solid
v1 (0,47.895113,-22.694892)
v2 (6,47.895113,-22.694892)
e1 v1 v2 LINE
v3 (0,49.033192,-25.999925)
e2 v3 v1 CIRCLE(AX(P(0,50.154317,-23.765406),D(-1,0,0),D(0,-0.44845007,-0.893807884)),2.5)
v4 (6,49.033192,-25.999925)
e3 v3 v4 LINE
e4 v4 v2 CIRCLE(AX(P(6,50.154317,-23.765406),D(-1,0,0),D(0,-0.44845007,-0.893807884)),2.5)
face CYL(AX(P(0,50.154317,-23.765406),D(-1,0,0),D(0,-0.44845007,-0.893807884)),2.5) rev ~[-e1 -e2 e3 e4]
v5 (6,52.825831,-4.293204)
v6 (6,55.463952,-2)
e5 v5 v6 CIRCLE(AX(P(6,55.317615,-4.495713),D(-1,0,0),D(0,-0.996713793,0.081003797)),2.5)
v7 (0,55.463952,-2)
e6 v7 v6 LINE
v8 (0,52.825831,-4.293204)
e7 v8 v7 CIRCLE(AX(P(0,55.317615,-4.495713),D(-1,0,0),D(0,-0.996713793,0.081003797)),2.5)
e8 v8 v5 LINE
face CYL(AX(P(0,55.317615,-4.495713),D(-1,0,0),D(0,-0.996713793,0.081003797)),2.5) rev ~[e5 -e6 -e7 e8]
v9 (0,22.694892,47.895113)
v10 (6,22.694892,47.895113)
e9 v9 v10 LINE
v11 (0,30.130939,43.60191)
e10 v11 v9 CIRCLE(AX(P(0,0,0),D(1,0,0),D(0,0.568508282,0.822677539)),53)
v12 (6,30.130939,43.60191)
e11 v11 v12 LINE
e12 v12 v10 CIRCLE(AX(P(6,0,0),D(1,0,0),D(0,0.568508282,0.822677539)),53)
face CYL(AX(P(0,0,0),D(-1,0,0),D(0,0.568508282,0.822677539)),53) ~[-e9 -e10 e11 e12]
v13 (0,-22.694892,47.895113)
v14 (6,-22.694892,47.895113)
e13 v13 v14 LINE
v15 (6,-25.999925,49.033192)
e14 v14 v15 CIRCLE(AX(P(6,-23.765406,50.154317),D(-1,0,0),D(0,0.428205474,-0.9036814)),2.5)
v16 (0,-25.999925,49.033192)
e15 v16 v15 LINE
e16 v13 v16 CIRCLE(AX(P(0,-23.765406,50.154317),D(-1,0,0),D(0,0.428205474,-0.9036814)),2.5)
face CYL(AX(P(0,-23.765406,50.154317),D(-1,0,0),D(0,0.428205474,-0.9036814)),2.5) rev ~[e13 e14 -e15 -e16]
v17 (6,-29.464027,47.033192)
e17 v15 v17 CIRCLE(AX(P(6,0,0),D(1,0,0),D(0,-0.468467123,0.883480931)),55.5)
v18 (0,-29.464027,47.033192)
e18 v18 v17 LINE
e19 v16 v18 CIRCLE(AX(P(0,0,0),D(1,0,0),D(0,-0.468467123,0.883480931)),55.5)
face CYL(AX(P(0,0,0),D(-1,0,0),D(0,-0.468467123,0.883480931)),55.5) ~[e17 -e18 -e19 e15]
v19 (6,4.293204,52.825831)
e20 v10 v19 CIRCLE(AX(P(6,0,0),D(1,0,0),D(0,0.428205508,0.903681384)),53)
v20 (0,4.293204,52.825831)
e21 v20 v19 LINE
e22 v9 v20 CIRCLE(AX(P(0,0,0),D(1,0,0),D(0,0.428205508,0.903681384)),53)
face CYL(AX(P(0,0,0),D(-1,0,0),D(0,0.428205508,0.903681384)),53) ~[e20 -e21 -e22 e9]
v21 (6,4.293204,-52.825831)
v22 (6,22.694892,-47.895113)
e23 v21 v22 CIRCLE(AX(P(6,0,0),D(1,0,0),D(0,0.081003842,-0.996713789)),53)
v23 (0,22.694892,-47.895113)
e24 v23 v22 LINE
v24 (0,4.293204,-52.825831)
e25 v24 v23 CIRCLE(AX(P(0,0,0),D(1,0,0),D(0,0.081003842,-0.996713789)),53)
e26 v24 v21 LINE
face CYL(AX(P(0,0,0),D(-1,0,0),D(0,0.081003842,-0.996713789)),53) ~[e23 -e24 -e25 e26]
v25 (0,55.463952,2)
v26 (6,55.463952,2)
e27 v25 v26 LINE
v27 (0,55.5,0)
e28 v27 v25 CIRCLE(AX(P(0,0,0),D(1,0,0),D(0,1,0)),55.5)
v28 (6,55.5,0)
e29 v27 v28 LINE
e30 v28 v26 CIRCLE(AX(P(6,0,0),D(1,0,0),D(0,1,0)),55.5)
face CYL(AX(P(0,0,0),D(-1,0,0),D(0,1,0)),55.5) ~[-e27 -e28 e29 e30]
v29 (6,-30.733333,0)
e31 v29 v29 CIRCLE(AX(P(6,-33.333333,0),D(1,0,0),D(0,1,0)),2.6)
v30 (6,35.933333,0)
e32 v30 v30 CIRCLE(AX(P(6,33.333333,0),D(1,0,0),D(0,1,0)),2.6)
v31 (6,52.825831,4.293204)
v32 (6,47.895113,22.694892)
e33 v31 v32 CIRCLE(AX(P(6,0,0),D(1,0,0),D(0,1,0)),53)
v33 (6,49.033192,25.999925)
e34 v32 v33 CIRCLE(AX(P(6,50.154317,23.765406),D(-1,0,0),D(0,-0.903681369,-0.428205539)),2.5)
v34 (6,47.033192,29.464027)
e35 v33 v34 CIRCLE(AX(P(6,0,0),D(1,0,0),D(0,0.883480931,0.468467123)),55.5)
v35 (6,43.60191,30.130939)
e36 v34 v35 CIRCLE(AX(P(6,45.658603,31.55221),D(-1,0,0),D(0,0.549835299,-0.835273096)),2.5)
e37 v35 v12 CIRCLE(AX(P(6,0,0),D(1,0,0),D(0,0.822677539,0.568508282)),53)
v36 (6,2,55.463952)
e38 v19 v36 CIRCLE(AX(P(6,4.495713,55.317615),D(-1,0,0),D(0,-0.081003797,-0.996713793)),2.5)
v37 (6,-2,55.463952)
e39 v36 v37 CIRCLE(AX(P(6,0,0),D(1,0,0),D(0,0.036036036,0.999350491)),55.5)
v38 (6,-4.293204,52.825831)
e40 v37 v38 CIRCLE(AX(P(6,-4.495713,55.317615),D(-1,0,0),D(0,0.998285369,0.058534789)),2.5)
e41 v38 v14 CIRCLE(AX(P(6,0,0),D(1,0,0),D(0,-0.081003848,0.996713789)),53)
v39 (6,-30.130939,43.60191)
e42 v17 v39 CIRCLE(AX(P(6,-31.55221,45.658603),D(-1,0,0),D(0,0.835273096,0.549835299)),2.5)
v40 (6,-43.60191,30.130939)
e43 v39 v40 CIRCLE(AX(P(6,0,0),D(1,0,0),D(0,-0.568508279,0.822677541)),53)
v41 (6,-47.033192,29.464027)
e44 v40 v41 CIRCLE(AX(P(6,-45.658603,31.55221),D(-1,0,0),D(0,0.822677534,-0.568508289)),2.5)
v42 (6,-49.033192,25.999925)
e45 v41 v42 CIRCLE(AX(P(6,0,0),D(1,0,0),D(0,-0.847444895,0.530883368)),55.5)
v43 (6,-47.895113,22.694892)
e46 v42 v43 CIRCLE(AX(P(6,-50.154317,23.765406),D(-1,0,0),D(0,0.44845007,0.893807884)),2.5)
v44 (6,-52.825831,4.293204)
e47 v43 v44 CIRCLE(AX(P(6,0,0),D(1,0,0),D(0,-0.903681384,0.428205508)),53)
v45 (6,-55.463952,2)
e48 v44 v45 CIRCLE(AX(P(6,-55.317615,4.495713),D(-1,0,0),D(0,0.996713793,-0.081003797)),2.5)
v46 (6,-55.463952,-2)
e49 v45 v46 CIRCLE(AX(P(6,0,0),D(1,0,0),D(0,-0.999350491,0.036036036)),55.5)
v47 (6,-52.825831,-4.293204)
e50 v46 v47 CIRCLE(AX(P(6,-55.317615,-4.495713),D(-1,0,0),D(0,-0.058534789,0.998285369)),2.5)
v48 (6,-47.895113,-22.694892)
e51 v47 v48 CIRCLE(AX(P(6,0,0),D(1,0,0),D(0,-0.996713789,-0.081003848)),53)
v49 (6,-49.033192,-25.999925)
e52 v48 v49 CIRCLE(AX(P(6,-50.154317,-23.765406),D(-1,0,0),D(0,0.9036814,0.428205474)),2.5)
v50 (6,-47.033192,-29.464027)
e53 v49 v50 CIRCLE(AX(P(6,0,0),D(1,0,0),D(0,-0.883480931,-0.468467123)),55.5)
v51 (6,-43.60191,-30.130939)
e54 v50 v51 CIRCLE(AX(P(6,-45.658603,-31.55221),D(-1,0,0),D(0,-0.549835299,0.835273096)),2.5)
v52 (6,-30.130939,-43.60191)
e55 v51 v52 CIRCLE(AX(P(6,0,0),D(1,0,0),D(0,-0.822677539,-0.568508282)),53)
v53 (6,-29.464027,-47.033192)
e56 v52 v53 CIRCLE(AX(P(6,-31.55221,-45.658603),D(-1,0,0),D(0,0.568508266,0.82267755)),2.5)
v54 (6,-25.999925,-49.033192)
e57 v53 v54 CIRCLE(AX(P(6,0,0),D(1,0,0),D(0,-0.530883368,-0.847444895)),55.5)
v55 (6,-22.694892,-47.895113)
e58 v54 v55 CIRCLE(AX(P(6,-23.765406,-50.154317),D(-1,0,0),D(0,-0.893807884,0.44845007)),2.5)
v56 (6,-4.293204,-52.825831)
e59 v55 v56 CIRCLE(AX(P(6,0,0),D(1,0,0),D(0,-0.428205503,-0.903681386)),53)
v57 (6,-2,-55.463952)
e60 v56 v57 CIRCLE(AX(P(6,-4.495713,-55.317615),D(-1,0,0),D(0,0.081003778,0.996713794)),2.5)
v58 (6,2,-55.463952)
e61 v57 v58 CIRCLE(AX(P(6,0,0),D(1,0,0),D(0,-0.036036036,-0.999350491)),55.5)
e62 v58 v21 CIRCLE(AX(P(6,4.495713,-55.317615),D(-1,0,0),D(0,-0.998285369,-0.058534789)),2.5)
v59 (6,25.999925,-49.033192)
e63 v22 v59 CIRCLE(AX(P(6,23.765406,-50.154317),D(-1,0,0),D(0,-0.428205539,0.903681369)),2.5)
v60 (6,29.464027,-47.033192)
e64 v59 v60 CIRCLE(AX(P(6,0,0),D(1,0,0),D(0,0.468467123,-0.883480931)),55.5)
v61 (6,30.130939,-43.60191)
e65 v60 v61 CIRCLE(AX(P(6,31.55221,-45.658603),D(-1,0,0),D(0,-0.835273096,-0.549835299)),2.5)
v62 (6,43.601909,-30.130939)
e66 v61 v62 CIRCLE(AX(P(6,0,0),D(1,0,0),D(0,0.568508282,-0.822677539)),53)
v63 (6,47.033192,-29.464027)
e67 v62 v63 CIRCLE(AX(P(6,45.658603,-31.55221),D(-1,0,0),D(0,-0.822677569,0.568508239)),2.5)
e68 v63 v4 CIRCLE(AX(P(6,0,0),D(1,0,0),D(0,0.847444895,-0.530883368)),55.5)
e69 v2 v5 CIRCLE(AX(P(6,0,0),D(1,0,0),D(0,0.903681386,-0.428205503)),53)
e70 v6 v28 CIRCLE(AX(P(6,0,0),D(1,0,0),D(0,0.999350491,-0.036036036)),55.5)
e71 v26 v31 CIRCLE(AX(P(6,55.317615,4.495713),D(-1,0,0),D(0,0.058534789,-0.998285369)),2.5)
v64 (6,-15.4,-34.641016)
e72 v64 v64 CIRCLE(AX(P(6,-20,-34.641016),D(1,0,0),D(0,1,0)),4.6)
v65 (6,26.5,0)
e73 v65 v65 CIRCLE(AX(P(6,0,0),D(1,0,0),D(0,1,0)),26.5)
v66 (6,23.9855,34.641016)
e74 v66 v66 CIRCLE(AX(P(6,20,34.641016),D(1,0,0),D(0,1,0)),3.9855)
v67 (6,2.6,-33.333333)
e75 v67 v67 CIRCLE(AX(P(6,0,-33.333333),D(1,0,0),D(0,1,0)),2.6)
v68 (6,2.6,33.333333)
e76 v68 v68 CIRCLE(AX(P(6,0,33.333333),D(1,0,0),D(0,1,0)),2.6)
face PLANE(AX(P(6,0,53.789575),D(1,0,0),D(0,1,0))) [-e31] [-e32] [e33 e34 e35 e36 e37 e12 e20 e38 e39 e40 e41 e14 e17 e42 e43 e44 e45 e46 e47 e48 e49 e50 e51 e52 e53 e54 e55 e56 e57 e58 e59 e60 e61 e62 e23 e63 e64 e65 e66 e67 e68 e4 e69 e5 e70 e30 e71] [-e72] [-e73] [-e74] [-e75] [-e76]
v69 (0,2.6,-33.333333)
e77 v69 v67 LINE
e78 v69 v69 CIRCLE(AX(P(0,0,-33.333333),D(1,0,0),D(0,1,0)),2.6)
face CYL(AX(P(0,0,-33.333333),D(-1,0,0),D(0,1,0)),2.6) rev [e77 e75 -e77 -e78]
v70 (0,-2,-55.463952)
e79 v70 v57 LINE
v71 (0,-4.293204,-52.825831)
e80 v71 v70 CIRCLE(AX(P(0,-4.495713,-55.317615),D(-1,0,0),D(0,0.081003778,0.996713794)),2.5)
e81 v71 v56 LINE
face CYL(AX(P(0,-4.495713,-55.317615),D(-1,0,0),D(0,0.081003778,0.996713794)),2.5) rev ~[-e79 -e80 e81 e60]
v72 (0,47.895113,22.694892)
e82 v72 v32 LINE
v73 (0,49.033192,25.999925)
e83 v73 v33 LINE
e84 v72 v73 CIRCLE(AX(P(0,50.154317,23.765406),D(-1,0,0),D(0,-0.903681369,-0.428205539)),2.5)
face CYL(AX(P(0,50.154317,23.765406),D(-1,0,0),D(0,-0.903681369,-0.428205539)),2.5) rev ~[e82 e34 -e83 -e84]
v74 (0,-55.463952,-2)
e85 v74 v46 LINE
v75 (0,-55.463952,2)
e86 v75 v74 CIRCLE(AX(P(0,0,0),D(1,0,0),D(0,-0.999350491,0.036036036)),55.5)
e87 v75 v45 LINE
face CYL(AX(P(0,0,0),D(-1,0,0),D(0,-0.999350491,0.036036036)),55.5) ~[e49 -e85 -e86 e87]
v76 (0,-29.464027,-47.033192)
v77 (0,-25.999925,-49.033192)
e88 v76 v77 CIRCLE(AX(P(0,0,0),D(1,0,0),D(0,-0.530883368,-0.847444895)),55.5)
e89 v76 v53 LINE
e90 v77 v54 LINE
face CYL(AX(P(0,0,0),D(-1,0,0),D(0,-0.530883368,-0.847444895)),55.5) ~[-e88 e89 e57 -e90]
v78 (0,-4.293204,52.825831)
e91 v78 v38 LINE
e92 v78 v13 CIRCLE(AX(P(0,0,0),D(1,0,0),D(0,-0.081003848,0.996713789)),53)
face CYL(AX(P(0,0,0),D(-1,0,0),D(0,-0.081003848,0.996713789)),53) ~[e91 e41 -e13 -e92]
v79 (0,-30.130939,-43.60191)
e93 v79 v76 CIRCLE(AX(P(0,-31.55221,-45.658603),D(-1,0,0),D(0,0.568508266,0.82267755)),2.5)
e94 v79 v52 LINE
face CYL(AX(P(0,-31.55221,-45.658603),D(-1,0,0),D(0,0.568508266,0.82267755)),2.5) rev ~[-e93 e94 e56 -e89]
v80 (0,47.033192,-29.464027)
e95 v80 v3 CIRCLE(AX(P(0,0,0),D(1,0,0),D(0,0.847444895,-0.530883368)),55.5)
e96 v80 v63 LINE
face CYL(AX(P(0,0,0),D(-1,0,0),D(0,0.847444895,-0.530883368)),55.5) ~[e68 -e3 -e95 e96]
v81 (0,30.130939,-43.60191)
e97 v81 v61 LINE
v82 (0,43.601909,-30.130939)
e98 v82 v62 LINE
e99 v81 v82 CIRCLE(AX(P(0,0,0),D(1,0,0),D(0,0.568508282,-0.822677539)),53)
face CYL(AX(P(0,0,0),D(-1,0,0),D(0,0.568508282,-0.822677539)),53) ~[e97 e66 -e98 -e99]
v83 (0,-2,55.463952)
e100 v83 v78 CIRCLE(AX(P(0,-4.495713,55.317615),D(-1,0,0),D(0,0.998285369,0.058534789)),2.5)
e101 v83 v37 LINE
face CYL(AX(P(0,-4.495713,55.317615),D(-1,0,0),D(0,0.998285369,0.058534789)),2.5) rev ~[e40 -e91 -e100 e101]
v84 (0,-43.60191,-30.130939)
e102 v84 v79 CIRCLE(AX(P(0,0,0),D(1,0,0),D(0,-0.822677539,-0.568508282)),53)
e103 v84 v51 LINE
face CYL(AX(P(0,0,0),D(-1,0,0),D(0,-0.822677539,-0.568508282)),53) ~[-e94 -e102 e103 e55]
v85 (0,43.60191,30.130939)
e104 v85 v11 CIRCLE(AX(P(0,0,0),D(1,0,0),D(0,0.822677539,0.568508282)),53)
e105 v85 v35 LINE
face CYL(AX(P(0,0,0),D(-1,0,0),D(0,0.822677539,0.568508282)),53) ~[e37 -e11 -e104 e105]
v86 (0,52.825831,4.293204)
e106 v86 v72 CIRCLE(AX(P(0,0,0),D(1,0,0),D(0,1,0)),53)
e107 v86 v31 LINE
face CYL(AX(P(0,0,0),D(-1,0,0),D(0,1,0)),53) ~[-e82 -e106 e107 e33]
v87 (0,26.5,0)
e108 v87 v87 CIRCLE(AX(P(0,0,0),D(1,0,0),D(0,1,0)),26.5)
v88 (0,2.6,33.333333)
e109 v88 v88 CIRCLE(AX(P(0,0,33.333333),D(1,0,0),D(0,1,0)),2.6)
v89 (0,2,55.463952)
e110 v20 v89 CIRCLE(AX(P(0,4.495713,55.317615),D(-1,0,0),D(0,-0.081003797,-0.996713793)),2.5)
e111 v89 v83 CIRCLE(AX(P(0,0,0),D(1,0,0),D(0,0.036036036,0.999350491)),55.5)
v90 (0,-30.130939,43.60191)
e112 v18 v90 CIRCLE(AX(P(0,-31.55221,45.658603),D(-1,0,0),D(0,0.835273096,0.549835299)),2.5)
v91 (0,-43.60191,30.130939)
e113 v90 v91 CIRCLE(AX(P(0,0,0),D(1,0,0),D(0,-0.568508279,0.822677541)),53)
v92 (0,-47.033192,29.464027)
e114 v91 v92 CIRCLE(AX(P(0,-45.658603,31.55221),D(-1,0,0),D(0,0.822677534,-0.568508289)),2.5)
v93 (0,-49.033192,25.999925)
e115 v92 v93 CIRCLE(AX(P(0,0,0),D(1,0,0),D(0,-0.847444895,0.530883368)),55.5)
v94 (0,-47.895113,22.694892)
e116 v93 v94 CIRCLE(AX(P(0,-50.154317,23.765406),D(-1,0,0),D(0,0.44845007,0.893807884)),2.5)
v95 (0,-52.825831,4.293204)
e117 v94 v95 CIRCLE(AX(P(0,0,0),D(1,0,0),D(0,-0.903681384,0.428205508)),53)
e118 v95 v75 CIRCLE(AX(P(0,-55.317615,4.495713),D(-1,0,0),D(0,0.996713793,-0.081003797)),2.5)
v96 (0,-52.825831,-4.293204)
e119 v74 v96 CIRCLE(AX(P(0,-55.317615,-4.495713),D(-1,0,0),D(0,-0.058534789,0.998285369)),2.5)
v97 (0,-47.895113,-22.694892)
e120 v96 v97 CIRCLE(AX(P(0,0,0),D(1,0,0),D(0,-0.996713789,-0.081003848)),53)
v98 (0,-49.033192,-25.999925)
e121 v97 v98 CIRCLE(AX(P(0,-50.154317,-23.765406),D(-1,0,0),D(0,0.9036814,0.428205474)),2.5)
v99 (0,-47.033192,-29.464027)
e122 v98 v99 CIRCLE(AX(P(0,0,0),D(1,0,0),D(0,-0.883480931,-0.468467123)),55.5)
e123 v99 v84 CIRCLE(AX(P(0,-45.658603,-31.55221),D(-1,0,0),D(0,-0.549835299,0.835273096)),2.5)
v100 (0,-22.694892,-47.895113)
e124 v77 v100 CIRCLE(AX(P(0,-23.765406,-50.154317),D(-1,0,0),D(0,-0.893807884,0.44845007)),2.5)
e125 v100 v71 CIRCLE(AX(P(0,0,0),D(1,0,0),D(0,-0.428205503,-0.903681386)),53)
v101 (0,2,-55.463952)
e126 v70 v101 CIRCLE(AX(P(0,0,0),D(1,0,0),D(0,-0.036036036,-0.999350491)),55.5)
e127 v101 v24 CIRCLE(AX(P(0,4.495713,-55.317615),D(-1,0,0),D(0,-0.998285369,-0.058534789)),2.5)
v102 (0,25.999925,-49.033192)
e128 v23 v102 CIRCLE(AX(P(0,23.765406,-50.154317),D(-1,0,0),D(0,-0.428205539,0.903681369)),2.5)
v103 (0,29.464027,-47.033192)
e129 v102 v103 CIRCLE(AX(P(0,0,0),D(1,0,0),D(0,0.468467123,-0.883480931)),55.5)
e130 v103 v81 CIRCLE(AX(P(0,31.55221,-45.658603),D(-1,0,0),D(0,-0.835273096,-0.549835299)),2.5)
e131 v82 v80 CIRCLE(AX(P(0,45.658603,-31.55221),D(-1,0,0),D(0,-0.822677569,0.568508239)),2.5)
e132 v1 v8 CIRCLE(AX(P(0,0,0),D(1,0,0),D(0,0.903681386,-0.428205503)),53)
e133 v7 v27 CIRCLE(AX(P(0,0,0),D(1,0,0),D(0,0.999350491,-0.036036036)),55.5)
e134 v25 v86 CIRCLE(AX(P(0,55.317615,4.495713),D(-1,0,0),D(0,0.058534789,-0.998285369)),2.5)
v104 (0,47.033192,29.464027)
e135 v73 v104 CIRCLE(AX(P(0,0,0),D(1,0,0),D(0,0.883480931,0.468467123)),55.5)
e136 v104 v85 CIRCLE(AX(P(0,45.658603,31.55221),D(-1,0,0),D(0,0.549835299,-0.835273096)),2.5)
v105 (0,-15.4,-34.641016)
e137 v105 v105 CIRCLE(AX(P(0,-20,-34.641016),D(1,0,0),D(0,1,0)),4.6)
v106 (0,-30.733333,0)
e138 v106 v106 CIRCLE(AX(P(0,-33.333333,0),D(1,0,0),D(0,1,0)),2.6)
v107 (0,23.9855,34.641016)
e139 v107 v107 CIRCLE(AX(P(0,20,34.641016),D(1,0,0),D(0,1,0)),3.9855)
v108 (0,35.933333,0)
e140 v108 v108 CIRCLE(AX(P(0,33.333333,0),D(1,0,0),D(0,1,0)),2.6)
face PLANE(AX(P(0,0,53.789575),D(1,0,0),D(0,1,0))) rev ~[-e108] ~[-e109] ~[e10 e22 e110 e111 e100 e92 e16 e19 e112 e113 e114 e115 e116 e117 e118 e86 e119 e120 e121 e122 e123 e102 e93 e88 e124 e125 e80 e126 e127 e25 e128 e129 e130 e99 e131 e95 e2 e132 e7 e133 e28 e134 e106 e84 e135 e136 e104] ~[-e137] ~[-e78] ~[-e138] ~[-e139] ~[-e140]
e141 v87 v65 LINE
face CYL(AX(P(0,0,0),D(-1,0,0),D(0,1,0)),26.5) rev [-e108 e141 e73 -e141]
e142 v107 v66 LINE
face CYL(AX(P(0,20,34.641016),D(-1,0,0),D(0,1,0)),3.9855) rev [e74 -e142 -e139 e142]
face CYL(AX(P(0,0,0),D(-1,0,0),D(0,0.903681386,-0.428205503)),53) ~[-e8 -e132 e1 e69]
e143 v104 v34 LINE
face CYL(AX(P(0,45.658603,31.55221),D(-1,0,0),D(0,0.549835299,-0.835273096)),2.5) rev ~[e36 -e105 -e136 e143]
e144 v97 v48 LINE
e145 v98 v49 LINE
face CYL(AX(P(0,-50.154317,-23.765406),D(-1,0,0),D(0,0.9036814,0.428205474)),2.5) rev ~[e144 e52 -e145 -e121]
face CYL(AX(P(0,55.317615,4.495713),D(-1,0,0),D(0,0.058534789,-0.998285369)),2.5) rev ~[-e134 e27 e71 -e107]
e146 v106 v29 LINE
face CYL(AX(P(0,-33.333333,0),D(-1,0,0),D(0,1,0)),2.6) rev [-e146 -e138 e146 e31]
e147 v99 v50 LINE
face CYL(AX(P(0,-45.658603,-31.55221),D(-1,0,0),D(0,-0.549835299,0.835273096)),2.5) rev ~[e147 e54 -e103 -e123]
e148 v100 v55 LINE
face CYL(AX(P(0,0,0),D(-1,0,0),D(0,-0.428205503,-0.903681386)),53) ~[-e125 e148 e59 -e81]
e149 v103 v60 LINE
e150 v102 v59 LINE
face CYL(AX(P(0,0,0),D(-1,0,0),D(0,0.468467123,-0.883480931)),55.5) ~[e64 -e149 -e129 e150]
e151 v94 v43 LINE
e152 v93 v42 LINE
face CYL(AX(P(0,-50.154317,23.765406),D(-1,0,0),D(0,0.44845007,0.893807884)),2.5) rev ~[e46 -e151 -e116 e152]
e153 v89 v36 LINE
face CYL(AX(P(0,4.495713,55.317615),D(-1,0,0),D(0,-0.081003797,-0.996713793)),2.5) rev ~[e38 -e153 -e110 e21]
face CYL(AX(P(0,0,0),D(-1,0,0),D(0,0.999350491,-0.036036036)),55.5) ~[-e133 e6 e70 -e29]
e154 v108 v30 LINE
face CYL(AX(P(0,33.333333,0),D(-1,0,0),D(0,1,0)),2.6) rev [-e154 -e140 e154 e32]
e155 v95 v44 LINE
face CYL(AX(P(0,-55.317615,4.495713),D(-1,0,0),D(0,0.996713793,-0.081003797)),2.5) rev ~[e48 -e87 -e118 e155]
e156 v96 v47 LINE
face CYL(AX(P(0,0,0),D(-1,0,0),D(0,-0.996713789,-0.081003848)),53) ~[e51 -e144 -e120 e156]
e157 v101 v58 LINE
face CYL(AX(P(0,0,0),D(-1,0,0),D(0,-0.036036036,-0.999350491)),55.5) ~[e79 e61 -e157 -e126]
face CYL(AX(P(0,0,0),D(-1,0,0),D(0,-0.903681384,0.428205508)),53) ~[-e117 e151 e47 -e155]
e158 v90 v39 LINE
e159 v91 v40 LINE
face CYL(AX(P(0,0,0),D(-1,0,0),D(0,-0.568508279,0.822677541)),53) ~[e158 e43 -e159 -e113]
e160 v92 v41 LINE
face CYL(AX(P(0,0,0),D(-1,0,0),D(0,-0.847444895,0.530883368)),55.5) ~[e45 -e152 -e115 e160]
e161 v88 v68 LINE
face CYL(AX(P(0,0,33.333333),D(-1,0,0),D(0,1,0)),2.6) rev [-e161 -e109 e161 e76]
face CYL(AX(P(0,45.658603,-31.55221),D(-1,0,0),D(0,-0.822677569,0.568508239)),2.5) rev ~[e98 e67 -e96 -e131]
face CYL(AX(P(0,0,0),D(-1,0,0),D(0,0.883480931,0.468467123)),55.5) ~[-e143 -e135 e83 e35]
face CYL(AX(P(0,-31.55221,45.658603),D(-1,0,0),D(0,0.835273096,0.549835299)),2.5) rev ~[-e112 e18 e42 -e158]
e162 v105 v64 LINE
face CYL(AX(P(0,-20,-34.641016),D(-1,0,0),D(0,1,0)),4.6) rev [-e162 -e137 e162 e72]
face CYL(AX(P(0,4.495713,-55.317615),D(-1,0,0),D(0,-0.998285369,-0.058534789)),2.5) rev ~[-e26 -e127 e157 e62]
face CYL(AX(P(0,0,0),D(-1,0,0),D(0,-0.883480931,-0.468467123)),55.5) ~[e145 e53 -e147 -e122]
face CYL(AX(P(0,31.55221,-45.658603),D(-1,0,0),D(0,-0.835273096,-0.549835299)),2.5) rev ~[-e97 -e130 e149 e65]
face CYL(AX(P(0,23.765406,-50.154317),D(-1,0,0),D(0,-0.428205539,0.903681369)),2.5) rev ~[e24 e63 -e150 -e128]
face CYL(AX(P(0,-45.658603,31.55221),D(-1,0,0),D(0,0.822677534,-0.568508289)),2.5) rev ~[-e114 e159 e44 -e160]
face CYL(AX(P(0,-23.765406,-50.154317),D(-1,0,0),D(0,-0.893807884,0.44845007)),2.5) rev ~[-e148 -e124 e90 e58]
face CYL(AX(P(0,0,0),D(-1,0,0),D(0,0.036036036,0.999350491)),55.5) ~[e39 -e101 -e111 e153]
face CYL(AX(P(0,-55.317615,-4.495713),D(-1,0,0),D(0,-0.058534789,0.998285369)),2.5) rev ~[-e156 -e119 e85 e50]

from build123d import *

# Parameters (mm, degrees)
F0_R     = 4.6
F0_R_2   = 2.6
F0_R_3   = 26.5
F0_R_4   = 3.9855
F1_DEPTH = 6


with BuildPart() as f1:
    # F0 (on Right) → F1 (new body)
    with BuildSketch(Plane.YZ):
        with BuildLine():
            ThreePointArc((-4.2932039319, 52.8258308027), (0, 53), (4.2932039319, 52.8258308027))
            ThreePointArc((4.2932039319, 52.8258308027), (2.6089111213, 53.6775003275), (2, 55.4639522573))
            ThreePointArc((2, 55.4639522573), (0, 55.5), (-2, 55.4639522573))
            ThreePointArc((-2, 55.4639522573), (-2.6089111213, 53.6775003275), (-4.2932039319, 52.8258308027))
        make_face()
        with BuildLine():
            ThreePointArc((-47.8951133262, 22.6948919246), (-45.8993463831, 26.5000000302), (-43.6019095663, 30.1309389528))
            ThreePointArc((-43.6019095663, 30.1309389528), (-45.1816234045, 29.0981334574), (-47.0331916491, 29.4640269362))
            ThreePointArc((-47.0331916491, 29.4640269362), (-48.06440991, 27.75), (-49.0331916491, 25.9999253211))
            ThreePointArc((-49.0331916491, 25.9999253211), (-47.7905344905, 24.5793669568), (-47.8951133262, 22.6948919246))
        make_face()
        with BuildLine():
            ThreePointArc((52.8258308027, -4.2932039319), (52.9564397998, -2.1483676891), (53, 0))
            ThreePointArc((53, 0), (52.9564397998, 2.1483676891), (52.8258308027, 4.2932039319))
            ThreePointArc((52.8258308027, 4.2932039319), (51.1940687891, 13.717409406), (47.8951134033, 22.6948917618))
            ThreePointArc((47.8951134033, 22.6948917618), (45.8993464347, 26.4999999409), (43.6019095811, 30.1309389313))
            ThreePointArc((43.6019095811, 30.1309389313), (37.4766594029, 37.4766594029), (30.1309389313, 43.6019095811))
            ThreePointArc((30.1309389313, 43.6019095811), (26.5000000189, 45.8993463896), (22.6948919246, 47.8951133262))
            ThreePointArc((22.6948919246, 47.8951133262), (13.717409493, 51.1940687658), (4.2932039319, 52.8258308027))
            ThreePointArc((4.2932039319, 52.8258308027), (0, 53), (-4.2932039319, 52.8258308027))
            ThreePointArc((-4.2932039319, 52.8258308027), (-13.717409493, 51.1940687658), (-22.6948919246, 47.8951133262))
            ThreePointArc((-22.6948919246, 47.8951133262), (-26.4999999415, 45.8993464343), (-30.1309387843, 43.6019096827))
            ThreePointArc((-30.1309387843, 43.6019096827), (-37.4766593305, 37.4766594753), (-43.6019095663, 30.1309389528))
            ThreePointArc((-43.6019095663, 30.1309389528), (-45.8993463831, 26.5000000302), (-47.8951133262, 22.6948919246))
            ThreePointArc((-47.8951133262, 22.6948919246), (-51.1940687658, 13.717409493), (-52.8258308027, 4.2932039319))
            ThreePointArc((-52.8258308027, 4.2932039319), (-53, 0), (-52.8258308027, -4.2932039319))
            ThreePointArc((-52.8258308027, -4.2932039319), (-51.1940687658, -13.717409493), (-47.8951133262, -22.6948919246))
            ThreePointArc((-47.8951133262, -22.6948919246), (-45.8993463896, -26.5000000189), (-43.6019095811, -30.1309389313))
            ThreePointArc((-43.6019095811, -30.1309389313), (-37.4766594372, -37.4766593686), (-30.1309390111, -43.6019095259))
            ThreePointArc((-30.1309390111, -43.6019095259), (-26.4999999348, -45.8993464382), (-22.6948916613, -47.895113451))
            ThreePointArc((-22.6948916613, -47.895113451), (-13.7174093743, -51.1940687976), (-4.2932039775, -52.825830799))
            ThreePointArc((-4.2932039775, -52.825830799), (-1.709e-07, -53), (4.2932036369, -52.8258308267))
            ThreePointArc((4.2932036369, -52.8258308267), (13.717409263, -51.1940688275), (22.6948917618, -47.8951134033))
            ThreePointArc((22.6948917618, -47.8951134033), (26.4999999409, -45.8993464347), (30.1309389313, -43.6019095811))
            ThreePointArc((30.1309389313, -43.6019095811), (37.4766593397, -37.4766594661), (43.6019094795, -30.1309390784))
            ThreePointArc((43.6019094795, -30.1309390784), (45.8993464178, -26.4999999702), (47.895113451, -22.6948916613))
            ThreePointArc((47.895113451, -22.6948916613), (51.1940688036, -13.7174093523), (52.8258308027, -4.2932039319))
        make_face()
        with Locations((-20, -34.6410161514)):
            Circle(F0_R, mode=Mode.SUBTRACT)
        with Locations((0, -33.3333333333)):
            Circle(F0_R_2, mode=Mode.SUBTRACT)
        with Locations((-33.3333333333, 0)):
            Circle(F0_R_2, mode=Mode.SUBTRACT)
        Circle(F0_R_3, mode=Mode.SUBTRACT)
        with Locations((33.3333333333, 0)):
            Circle(F0_R_2, mode=Mode.SUBTRACT)
        with Locations((0, 33.3333333333)):
            Circle(F0_R_2, mode=Mode.SUBTRACT)
        with Locations((20, 34.6410161514)):
            Circle(F0_R_4, mode=Mode.SUBTRACT)
        with BuildLine():
            ThreePointArc((-52.8258308027, -4.2932039319), (-53, 0), (-52.8258308027, 4.2932039319))
            ThreePointArc((-52.8258308027, 4.2932039319), (-53.6775003275, 2.6089111213), (-55.4639522573, 2))
            ThreePointArc((-55.4639522573, 2), (-55.5, 0), (-55.4639522573, -2))
            ThreePointArc((-55.4639522573, -2), (-53.6775003275, -2.6089111213), (-52.8258308027, -4.2932039319))
        make_face()
        with BuildLine():
            ThreePointArc((-47.0331916491, -29.4640269362), (-45.1816234173, -29.0981334549), (-43.6019095811, -30.1309389313))
            ThreePointArc((-43.6019095811, -30.1309389313), (-45.8993463896, -26.5000000189), (-47.8951133262, -22.6948919246))
            ThreePointArc((-47.8951133262, -22.6948919246), (-47.7905344905, -24.5793669568), (-49.0331916491, -25.9999253211))
            ThreePointArc((-49.0331916491, -25.9999253211), (-48.06440991, -27.75), (-47.0331916491, -29.4640269362))
        make_face()
        with BuildLine():
            ThreePointArc((-25.9999253211, -49.0331916491), (-24.5793668191, -47.790534443), (-22.6948916613, -47.895113451))
            ThreePointArc((-22.6948916613, -47.895113451), (-26.4999999348, -45.8993464382), (-30.1309390111, -43.6019095259))
            ThreePointArc((-30.1309390111, -43.6019095259), (-29.0981334642, -45.1816233697), (-29.4640269362, -47.0331916491))
            ThreePointArc((-29.4640269362, -47.0331916491), (-27.75, -48.06440991), (-25.9999253211, -49.0331916491))
        make_face()
        with BuildLine():
            ThreePointArc((2, -55.4639522573), (2.6089110242, -53.6775004392), (4.2932036369, -52.8258308267))
            ThreePointArc((4.2932036369, -52.8258308267), (-1.709e-07, -53), (-4.2932039775, -52.825830799))
            ThreePointArc((-4.2932039775, -52.825830799), (-2.6089111363, -53.6775003102), (-2, -55.4639522573))
            ThreePointArc((-2, -55.4639522573), (0, -55.5), (2, -55.4639522573))
        make_face()
        with BuildLine():
            ThreePointArc((29.4640269362, -47.0331916491), (29.0981334549, -45.1816234173), (30.1309389313, -43.6019095811))
            ThreePointArc((30.1309389313, -43.6019095811), (26.4999999409, -45.8993464347), (22.6948917618, -47.8951134033))
            ThreePointArc((22.6948917618, -47.8951134033), (24.5793668717, -47.7905344612), (25.9999253211, -49.0331916491))
            ThreePointArc((25.9999253211, -49.0331916491), (27.75, -48.06440991), (29.4640269362, -47.0331916491))
        make_face()
        with BuildLine():
            ThreePointArc((49.0331916491, -25.9999253211), (47.790534443, -24.5793668191), (47.895113451, -22.6948916613))
            ThreePointArc((47.895113451, -22.6948916613), (45.8993464178, -26.4999999702), (43.6019094795, -30.1309390784))
            ThreePointArc((43.6019094795, -30.1309390784), (45.1816233296, -29.098133472), (47.0331916491, -29.4640269362))
            ThreePointArc((47.0331916491, -29.4640269362), (48.06440991, -27.75), (49.0331916491, -25.9999253211))
        make_face()
        with BuildLine():
            ThreePointArc((52.8258308027, 4.2932039319), (52.9564397998, 2.1483676891), (53, 0))
            ThreePointArc((53, 0), (52.9564397998, -2.1483676891), (52.8258308027, -4.2932039319))
            ThreePointArc((52.8258308027, -4.2932039319), (53.6775003275, -2.6089111213), (55.4639522573, -2))
            ThreePointArc((55.4639522573, -2), (55.4909873325, -1.0001624168), (55.5, 0))
            ThreePointArc((55.5, 0), (55.4909873325, 1.0001624168), (55.4639522573, 2))
            ThreePointArc((55.4639522573, 2), (53.6775003275, 2.6089111213), (52.8258308027, 4.2932039319))
        make_face()
        with BuildLine():
            ThreePointArc((43.6019095811, 30.1309389313), (45.8993464347, 26.4999999409), (47.8951134033, 22.6948917618))
            ThreePointArc((47.8951134033, 22.6948917618), (47.7905344612, 24.5793668717), (49.0331916491, 25.9999253211))
            ThreePointArc((49.0331916491, 25.9999253211), (48.06440991, 27.75), (47.0331916491, 29.4640269362))
            ThreePointArc((47.0331916491, 29.4640269362), (45.1816234173, 29.0981334549), (43.6019095811, 30.1309389313))
        make_face()
        with BuildLine():
            ThreePointArc((-30.1309387843, 43.6019096827), (-26.4999999415, 45.8993464343), (-22.6948919246, 47.8951133262))
            ThreePointArc((-22.6948919246, 47.8951133262), (-24.5793669568, 47.7905344905), (-25.9999253211, 49.0331916491))
            ThreePointArc((-25.9999253211, 49.0331916491), (-27.75, 48.06440991), (-29.4640269362, 47.0331916491))
            ThreePointArc((-29.4640269362, 47.0331916491), (-29.0981334379, 45.1816235051), (-30.1309387843, 43.6019096827))
        make_face()
    extrude(amount=F1_DEPTH)


solid = f1.part
